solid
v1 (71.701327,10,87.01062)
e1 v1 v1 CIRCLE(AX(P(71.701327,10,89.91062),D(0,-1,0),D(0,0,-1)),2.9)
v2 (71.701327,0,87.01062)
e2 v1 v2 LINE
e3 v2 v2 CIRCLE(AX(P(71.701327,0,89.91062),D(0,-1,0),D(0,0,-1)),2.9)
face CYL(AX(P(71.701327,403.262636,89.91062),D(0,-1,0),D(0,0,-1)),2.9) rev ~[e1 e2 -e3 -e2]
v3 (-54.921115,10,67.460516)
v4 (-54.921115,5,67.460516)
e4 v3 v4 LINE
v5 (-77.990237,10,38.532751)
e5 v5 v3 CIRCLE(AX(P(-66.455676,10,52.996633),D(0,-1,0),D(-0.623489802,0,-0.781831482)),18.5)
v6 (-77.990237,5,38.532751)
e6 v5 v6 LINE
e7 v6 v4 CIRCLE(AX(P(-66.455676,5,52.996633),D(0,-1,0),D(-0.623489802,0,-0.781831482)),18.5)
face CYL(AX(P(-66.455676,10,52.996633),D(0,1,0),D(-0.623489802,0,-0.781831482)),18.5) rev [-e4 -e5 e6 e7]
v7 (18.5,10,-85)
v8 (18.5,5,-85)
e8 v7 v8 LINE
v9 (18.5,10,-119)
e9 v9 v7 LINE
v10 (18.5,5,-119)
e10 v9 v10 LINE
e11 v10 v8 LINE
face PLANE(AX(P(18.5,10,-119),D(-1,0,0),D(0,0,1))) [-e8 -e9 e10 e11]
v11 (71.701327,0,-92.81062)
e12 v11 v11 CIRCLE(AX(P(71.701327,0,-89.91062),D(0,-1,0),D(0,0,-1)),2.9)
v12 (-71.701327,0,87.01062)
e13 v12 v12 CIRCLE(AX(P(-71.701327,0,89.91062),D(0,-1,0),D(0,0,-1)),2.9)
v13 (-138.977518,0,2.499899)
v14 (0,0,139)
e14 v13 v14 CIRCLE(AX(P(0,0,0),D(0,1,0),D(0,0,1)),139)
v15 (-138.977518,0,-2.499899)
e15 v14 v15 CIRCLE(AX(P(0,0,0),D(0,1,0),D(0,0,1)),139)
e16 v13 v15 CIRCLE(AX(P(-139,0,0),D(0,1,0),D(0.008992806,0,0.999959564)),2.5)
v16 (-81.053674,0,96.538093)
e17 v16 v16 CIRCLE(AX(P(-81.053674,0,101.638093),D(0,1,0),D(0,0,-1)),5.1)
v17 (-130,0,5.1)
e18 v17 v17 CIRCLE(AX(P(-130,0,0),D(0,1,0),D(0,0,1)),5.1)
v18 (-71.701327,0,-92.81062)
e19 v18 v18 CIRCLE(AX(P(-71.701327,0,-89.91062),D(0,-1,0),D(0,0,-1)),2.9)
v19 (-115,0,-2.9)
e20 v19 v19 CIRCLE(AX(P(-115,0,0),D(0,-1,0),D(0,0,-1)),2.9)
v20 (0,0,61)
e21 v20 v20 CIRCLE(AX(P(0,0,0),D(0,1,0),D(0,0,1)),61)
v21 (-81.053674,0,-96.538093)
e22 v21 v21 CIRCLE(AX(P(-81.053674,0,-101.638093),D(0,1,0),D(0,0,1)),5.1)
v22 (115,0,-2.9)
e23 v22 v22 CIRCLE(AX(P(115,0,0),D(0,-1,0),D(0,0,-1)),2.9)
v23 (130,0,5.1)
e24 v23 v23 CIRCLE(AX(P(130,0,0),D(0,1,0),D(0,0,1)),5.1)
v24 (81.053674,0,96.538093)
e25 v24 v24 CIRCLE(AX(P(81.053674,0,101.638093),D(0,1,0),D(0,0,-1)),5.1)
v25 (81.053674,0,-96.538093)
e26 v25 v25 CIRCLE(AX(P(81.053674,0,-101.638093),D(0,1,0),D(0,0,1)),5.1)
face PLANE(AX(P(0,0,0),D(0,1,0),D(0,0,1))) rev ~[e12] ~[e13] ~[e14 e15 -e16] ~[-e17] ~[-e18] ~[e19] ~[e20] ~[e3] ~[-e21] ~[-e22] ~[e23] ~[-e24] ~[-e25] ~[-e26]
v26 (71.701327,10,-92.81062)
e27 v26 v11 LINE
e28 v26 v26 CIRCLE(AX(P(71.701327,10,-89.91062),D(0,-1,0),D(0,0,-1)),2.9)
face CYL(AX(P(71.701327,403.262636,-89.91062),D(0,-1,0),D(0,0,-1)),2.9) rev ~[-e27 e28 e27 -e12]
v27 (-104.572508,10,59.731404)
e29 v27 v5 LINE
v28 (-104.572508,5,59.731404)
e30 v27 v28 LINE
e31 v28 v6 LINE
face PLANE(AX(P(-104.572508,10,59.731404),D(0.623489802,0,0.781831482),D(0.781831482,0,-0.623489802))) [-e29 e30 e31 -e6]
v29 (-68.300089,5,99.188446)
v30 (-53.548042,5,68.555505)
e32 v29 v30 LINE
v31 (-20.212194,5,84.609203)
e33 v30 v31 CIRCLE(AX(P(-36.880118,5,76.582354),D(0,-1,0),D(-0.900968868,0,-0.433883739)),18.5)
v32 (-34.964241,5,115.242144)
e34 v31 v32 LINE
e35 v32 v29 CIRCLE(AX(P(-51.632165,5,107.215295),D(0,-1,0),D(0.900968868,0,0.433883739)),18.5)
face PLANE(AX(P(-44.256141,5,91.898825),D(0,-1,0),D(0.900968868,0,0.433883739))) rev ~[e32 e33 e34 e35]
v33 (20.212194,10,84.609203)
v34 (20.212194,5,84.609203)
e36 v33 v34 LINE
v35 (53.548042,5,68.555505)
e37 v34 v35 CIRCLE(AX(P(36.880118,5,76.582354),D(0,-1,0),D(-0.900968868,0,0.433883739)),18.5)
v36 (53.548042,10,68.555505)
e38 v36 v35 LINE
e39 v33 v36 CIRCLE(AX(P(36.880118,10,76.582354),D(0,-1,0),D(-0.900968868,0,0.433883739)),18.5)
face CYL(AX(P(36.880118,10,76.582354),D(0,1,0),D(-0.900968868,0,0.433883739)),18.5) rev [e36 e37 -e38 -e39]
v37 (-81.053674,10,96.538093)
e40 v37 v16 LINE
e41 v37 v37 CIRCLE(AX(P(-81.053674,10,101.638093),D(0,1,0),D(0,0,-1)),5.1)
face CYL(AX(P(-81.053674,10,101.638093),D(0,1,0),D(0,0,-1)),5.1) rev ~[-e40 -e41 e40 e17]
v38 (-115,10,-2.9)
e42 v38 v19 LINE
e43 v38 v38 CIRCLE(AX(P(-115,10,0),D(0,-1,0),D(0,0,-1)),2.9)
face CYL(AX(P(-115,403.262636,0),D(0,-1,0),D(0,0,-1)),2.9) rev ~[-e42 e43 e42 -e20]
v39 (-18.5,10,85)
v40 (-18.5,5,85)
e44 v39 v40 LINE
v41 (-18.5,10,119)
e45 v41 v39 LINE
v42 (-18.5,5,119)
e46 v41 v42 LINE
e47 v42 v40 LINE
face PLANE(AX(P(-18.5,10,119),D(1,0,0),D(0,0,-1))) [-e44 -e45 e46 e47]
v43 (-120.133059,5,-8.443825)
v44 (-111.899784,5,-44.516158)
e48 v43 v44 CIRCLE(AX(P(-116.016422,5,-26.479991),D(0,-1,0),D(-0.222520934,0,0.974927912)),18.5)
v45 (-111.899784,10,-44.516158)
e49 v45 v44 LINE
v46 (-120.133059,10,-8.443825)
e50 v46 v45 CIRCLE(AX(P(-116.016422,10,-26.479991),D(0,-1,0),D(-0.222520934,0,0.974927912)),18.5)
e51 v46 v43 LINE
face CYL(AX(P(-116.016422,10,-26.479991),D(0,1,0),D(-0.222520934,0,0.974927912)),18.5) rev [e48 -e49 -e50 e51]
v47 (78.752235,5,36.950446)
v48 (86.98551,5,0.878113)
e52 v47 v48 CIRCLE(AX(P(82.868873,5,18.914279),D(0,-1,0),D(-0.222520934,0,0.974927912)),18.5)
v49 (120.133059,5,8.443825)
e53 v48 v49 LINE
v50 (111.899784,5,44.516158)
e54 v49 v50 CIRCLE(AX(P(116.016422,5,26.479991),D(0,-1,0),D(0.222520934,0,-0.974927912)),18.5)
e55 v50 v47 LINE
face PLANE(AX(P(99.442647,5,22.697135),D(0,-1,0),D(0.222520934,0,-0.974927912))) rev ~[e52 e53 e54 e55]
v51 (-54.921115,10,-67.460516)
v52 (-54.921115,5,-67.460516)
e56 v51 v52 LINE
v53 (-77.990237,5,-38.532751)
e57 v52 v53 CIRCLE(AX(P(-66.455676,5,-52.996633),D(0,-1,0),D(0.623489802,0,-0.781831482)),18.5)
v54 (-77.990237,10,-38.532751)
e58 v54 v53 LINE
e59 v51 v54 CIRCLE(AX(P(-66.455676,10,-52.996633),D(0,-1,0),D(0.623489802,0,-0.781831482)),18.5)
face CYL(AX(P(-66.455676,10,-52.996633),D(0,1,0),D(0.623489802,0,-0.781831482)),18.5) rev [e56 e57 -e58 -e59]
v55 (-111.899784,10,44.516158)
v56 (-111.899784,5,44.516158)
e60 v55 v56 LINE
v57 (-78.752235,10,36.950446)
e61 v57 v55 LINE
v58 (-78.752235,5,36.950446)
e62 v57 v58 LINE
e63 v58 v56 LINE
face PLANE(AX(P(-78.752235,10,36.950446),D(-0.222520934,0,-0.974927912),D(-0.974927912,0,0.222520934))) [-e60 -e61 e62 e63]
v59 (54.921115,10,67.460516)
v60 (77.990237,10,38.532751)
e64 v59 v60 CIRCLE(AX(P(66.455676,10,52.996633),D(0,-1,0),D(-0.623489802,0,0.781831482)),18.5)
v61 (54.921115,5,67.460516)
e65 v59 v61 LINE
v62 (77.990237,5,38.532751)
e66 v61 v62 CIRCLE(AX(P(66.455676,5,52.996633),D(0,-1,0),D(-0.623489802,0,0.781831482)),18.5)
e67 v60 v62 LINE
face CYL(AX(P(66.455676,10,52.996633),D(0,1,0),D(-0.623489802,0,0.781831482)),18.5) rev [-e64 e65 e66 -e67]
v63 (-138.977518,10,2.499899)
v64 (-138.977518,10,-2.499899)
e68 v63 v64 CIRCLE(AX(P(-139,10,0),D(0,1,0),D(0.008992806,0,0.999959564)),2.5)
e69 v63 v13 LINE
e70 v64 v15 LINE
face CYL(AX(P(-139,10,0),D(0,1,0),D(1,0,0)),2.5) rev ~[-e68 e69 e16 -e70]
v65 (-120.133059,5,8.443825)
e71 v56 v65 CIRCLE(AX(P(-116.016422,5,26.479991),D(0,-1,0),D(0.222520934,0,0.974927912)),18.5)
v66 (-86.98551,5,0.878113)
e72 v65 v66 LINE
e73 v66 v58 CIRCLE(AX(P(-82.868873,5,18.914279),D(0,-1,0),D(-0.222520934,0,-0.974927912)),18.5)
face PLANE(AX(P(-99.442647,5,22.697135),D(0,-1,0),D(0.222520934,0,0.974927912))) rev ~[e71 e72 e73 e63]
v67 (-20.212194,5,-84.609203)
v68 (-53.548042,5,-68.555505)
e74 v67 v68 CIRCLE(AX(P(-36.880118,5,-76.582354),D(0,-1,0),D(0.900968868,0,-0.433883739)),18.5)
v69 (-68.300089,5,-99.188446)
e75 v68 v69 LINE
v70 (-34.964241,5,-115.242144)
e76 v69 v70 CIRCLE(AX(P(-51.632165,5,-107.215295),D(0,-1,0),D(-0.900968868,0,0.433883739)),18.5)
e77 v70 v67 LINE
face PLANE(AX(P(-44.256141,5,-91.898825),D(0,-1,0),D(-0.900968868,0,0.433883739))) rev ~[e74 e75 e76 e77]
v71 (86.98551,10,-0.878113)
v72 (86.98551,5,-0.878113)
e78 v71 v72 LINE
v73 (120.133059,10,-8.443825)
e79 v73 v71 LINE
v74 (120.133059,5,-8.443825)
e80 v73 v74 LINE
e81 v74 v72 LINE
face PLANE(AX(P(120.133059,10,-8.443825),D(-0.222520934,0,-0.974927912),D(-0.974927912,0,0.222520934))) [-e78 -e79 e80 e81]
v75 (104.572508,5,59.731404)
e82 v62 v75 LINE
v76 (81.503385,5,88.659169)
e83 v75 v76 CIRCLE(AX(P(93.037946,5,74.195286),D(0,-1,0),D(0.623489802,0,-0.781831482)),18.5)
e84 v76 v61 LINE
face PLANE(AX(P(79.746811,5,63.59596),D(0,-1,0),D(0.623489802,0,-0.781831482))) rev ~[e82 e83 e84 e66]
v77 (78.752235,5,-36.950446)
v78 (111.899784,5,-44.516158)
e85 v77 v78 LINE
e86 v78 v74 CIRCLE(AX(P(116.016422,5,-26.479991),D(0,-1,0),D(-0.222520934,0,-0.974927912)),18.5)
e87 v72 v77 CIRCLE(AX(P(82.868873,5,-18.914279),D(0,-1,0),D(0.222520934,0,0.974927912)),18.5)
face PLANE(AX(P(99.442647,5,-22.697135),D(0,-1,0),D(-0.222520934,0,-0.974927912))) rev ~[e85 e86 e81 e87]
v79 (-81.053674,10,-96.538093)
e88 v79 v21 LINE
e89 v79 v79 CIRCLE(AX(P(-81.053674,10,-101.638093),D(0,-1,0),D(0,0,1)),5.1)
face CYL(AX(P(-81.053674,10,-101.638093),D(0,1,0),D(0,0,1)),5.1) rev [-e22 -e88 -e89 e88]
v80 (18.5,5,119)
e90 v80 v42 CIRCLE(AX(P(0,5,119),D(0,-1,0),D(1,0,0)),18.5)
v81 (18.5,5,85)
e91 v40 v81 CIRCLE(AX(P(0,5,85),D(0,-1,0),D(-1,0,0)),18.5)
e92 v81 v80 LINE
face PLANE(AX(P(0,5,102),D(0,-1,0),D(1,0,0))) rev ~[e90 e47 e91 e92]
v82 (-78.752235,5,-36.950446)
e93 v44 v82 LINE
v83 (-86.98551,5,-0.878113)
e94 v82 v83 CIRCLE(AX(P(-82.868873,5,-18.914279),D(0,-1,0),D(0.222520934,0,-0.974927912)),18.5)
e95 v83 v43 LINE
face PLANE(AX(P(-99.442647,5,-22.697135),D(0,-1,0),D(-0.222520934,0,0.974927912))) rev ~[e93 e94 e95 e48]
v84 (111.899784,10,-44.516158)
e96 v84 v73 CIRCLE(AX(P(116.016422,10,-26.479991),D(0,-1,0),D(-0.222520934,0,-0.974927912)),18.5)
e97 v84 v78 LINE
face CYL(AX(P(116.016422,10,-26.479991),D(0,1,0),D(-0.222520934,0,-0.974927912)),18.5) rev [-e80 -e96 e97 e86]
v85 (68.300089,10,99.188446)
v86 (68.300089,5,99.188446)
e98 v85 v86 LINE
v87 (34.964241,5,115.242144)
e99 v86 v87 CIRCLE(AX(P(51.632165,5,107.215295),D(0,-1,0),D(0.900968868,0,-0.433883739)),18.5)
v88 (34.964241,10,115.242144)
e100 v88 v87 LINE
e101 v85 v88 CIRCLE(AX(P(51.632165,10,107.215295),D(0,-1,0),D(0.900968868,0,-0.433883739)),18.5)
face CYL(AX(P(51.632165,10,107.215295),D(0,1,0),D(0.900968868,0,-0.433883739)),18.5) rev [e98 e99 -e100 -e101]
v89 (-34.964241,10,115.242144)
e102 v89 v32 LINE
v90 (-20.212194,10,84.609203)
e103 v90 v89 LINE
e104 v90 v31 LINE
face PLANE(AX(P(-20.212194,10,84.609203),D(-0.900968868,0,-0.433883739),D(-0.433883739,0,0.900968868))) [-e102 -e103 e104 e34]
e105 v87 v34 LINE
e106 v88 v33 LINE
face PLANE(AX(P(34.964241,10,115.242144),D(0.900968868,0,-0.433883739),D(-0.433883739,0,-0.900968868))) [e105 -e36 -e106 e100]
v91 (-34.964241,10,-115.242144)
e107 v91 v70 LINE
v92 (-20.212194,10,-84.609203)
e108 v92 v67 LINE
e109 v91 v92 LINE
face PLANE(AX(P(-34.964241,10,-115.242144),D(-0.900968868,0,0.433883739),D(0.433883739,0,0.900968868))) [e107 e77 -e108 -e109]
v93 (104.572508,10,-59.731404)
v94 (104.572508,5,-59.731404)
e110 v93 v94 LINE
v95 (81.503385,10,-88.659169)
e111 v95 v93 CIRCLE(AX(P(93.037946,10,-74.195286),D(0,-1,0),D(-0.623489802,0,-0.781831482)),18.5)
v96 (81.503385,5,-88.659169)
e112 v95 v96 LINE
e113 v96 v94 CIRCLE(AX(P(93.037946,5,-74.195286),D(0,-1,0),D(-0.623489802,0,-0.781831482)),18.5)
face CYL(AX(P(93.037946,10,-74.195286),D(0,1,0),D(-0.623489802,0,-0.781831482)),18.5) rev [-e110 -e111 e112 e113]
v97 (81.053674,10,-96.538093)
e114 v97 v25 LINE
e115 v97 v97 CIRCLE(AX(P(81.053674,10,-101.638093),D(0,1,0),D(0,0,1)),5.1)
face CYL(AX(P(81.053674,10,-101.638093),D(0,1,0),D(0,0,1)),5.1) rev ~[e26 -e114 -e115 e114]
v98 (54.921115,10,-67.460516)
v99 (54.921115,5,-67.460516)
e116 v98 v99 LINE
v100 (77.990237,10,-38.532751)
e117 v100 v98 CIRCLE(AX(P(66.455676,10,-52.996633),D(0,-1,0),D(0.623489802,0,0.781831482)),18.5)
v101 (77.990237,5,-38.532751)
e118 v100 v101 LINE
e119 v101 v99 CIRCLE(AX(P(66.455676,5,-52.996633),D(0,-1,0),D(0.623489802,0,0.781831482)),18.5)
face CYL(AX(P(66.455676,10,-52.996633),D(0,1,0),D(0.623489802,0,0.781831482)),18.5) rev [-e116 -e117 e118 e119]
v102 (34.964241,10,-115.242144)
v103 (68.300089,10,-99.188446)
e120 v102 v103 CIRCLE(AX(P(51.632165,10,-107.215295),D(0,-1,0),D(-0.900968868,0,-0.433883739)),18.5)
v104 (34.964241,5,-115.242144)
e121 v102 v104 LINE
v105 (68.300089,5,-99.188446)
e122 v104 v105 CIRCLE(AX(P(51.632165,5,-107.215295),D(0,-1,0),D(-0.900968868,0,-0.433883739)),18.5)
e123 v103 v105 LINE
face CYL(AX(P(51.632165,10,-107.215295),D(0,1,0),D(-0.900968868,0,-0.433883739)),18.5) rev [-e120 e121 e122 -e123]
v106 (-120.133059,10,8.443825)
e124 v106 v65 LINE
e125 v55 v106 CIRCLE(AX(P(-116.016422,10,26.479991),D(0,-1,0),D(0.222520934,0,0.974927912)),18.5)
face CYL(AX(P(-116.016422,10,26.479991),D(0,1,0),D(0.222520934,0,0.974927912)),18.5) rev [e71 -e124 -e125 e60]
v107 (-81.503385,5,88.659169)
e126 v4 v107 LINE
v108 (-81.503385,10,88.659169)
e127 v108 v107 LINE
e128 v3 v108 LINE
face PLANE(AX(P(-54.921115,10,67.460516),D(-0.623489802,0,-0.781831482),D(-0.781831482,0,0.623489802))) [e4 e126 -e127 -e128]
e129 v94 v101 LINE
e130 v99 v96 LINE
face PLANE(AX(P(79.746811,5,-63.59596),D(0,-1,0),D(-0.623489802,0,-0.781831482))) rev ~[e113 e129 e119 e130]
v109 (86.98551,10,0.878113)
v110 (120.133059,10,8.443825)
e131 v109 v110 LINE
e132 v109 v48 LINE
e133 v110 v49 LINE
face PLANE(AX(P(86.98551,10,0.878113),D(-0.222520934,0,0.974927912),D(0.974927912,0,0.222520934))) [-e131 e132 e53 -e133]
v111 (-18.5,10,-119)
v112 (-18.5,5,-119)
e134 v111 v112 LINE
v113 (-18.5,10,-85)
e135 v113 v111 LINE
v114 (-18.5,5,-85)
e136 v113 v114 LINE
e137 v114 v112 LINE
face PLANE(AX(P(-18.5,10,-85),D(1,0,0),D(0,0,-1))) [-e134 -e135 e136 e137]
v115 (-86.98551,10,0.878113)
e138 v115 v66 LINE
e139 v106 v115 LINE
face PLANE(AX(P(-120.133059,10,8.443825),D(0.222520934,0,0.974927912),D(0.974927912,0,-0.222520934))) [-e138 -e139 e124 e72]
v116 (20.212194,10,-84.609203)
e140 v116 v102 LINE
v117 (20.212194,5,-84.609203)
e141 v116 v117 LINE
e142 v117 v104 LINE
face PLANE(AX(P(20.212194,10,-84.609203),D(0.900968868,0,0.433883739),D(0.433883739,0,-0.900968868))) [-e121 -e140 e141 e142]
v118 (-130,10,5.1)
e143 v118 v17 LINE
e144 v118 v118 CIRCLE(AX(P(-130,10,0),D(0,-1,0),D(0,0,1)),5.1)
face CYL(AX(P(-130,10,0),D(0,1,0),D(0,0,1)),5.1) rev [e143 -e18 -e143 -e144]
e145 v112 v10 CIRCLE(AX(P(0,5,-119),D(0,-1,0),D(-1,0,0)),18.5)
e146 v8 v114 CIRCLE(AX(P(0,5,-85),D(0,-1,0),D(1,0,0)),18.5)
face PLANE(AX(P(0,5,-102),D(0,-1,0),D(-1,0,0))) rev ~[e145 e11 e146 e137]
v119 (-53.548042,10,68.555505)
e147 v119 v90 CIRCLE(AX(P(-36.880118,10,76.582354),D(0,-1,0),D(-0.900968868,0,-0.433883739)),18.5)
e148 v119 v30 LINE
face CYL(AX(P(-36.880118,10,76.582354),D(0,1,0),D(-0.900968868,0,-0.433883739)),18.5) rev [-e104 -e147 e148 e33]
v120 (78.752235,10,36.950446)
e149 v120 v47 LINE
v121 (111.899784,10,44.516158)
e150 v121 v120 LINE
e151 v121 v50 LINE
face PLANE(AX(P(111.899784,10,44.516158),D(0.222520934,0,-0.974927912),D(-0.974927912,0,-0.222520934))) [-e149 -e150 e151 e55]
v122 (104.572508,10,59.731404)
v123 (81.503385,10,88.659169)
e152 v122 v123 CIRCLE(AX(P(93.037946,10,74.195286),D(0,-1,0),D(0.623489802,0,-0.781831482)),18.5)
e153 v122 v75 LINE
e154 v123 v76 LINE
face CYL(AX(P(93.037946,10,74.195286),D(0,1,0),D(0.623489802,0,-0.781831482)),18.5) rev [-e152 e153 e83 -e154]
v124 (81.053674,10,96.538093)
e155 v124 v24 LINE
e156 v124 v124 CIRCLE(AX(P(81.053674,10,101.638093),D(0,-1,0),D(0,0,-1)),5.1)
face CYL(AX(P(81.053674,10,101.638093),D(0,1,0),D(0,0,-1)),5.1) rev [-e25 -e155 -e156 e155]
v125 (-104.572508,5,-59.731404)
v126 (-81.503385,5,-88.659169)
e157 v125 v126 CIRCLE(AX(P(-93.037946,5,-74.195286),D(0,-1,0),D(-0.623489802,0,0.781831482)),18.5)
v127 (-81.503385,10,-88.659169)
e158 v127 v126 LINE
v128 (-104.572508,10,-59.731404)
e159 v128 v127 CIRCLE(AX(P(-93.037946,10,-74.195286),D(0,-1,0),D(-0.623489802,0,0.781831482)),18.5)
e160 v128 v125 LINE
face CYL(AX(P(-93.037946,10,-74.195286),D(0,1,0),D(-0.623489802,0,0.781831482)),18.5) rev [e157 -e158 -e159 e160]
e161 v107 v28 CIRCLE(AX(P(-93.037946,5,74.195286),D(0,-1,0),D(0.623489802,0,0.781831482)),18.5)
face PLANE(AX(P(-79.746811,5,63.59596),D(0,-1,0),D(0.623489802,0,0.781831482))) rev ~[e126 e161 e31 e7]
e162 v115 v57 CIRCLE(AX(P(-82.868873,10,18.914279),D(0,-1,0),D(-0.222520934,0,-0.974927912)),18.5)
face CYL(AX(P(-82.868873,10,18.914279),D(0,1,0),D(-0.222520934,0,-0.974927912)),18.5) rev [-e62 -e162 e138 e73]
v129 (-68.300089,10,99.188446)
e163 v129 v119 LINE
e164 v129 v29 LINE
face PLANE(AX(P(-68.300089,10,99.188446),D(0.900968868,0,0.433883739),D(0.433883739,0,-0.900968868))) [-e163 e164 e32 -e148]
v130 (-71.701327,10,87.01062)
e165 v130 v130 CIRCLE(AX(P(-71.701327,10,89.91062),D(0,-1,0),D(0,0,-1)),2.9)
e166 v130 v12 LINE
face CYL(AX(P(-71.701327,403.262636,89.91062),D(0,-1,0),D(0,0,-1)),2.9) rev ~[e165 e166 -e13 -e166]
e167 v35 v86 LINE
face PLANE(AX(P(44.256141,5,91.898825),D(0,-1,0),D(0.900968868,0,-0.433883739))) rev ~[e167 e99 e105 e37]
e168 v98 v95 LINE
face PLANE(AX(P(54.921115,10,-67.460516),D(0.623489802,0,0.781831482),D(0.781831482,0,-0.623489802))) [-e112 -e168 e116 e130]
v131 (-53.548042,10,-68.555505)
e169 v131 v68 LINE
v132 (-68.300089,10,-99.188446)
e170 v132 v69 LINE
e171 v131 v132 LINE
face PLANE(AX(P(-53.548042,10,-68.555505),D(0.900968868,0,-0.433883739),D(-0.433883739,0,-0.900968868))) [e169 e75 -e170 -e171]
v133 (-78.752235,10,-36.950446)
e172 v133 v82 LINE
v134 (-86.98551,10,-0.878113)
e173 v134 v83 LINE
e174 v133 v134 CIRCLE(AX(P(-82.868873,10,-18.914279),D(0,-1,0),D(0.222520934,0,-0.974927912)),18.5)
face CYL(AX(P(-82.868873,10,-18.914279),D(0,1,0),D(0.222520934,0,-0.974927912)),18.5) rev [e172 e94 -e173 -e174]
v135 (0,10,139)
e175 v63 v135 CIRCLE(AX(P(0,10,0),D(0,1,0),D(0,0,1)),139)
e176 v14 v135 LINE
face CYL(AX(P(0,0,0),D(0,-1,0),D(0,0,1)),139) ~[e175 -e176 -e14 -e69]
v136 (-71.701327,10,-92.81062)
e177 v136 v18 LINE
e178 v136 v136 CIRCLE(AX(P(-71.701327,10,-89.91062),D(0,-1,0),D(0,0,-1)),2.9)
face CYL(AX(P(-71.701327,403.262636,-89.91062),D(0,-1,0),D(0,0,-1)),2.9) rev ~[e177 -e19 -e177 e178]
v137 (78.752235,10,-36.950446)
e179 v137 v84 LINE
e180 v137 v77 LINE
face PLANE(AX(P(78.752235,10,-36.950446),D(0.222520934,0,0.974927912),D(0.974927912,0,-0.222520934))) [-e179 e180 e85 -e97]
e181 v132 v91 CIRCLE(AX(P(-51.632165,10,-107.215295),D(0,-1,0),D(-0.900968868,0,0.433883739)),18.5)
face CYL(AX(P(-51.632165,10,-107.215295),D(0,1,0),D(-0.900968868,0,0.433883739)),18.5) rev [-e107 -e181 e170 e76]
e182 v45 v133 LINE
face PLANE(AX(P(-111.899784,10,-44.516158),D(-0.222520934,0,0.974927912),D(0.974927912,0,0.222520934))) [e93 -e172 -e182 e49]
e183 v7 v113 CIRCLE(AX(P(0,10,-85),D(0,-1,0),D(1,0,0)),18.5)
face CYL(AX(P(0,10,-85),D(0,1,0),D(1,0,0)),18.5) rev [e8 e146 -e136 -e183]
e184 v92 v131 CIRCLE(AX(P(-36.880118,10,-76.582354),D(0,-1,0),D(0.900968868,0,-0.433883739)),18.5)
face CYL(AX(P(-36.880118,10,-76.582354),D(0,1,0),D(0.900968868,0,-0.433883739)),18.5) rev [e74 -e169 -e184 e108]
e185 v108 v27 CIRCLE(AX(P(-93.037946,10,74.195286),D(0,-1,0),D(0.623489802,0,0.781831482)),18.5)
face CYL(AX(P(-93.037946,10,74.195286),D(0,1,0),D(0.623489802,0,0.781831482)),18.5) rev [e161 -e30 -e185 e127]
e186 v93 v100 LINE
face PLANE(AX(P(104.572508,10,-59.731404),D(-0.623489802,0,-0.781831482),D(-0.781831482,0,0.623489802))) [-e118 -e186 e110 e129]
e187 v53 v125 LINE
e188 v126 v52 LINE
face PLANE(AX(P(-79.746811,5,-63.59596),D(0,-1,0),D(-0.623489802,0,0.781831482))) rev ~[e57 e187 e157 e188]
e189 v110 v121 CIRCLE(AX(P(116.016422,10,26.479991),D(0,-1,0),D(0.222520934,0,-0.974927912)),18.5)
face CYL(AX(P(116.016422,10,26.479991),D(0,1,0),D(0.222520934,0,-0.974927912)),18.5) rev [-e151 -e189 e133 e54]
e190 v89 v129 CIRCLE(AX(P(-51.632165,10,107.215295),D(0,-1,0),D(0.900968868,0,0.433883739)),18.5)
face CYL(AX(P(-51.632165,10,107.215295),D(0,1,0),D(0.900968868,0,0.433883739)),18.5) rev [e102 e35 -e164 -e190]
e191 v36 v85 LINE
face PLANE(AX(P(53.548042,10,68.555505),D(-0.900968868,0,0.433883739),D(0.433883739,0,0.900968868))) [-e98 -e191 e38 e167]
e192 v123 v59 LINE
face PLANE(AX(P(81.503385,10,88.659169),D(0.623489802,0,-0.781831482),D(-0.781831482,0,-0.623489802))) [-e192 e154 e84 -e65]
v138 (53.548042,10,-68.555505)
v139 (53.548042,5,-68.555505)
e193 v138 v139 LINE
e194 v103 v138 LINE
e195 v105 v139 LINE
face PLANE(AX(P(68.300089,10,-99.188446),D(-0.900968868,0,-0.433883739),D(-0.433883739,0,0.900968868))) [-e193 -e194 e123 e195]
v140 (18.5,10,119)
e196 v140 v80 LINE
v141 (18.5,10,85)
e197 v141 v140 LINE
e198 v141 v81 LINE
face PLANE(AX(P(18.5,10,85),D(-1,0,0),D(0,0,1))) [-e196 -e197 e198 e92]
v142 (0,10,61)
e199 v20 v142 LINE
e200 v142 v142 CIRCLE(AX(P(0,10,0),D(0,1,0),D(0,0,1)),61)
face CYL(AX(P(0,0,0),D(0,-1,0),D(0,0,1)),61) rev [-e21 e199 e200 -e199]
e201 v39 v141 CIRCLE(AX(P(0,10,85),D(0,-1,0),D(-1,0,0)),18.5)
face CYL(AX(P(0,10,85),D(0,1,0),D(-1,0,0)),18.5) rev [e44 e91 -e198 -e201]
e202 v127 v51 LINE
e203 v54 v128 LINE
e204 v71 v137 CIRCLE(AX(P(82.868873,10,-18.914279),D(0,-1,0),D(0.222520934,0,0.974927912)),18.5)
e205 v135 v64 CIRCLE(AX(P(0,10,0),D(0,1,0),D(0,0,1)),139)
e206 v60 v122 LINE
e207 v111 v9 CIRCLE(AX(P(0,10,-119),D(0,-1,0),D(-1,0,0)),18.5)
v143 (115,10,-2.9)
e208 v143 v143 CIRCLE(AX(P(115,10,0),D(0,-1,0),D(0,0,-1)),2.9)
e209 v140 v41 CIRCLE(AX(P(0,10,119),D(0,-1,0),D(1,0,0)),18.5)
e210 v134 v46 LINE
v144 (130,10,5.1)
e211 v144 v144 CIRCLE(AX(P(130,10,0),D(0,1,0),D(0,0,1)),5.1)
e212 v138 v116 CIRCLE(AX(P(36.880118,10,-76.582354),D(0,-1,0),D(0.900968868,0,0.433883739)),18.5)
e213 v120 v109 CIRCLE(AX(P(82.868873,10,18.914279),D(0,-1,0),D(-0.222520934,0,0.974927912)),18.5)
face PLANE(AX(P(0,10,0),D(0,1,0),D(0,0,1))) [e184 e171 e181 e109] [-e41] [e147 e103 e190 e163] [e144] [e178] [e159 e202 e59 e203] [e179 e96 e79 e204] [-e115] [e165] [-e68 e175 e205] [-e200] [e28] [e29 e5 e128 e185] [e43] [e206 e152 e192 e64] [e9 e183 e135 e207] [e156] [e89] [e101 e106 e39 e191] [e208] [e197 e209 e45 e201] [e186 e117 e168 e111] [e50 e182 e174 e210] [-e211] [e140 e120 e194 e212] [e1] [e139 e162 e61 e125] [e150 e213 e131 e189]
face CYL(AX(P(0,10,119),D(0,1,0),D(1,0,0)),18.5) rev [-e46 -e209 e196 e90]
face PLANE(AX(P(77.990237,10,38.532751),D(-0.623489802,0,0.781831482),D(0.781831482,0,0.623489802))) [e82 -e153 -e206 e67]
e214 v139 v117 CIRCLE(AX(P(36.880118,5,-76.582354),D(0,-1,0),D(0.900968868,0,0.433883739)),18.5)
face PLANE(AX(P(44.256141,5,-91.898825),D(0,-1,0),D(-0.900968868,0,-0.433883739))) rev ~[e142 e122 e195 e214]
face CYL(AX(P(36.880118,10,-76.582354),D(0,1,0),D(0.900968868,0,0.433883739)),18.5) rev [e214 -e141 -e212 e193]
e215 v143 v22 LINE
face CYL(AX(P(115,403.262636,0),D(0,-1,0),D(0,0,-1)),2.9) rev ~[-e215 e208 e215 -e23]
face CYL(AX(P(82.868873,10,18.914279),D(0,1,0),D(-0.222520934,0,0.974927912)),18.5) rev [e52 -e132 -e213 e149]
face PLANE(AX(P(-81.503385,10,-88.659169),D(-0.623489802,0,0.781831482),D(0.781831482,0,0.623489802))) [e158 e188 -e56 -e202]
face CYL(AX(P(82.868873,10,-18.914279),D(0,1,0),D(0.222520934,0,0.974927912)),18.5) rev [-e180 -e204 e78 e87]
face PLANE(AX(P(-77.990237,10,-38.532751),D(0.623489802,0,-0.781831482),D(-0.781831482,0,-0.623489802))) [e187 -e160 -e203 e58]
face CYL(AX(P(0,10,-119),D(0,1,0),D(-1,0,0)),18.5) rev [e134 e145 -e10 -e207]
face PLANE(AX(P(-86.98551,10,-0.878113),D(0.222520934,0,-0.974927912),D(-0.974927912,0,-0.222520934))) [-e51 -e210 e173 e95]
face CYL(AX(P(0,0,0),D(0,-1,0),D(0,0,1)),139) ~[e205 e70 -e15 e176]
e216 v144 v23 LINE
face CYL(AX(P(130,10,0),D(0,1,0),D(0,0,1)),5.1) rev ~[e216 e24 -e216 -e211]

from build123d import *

# Parameters (mm, degrees)
SKETCH_1_R               = 139
SKETCH_1_R_2             = 61
EXTRUDE_1_DEPTH          = 10
CUT_EXTRUDE_1_DEPTH      = 5
PATTERN_CIRCULAR_2_COUNT = 14
SKETCH_3_R               = 5.1
CUT_EXTRUDE_2_DEPTH      = 197.829875781
SKETCH_8_R               = 5.1
CUT_EXTRUDE_3_DEPTH      = 197.829875781
SKETCH_10_R              = 2.5
CUT_EXTRUDE_4_DEPTH      = 197.829875781
MIRROR_2_COPY_1_SKETCH_R = 5.1
MIRROR_2_COPY_1_DEPTH    = 197.829875781
M5_BASE_PLATE_D          = 5.8


with BuildPart() as part:
    # ｽｹｯﾁ1 → ﾎﾞｽ - 押し出し1 (new body)
    with BuildSketch(Plane(origin=(0, 0, 0), x_dir=(1, 0, 0), z_dir=(0, 1, 0))):
        with Locations(Location((0, 0, 0), (0, 0, 270))):
            Circle(SKETCH_1_R)
        with Locations(Location((0, 0, 0), (0, 0, 270))):
            Circle(SKETCH_1_R_2, mode=Mode.SUBTRACT)
    extrude(amount=EXTRUDE_1_DEPTH)

    # ｽｹｯﾁ2 → ｶｯﾄ - 押し出し1 (cut)
    with BuildSketch(Plane(origin=(0, 10, 0), x_dir=(1, 0, 0), z_dir=(0, 1, 0))):
        with BuildLine():
            Line((18.5, 119), (18.5, 85))
            ThreePointArc((18.5, 85), (0, 66.5), (-18.5, 85))
            Line((-18.5, 85), (-18.5, 119))
            ThreePointArc((-18.5, 119), (0, 137.5), (18.5, 119))
        make_face()
    cut_extrude_1 = extrude(amount=-CUT_EXTRUDE_1_DEPTH, mode=Mode.SUBTRACT)

    # 円形ﾊﾟﾀｰﾝ2: ｶｯﾄ - 押し出し1 ×14 about axis
    pattern_circular_2_axis = Axis((0, 0, 0), (0, 1, 0))
    for i in range(1, PATTERN_CIRCULAR_2_COUNT):
        add(cut_extrude_1.rotate(pattern_circular_2_axis, i * 360 / PATTERN_CIRCULAR_2_COUNT), mode=Mode.SUBTRACT)

    # ｽｹｯﾁ3 → ｶｯﾄ - 押し出し2 (cut, through all)
    with BuildSketch(Plane(origin=(0, 10, 0), x_dir=(1, 0, 0), z_dir=(0, 1, 0))):
        with Locations(Location((130, 0, 0), (0, 0, 270))):
            Circle(SKETCH_3_R)
    cut_extrude_2 = extrude(amount=-CUT_EXTRUDE_2_DEPTH, mode=Mode.SUBTRACT)

    # ｽｹｯﾁ8 → ｶｯﾄ - 押し出し3 (cut, through all)
    with BuildSketch(Plane(origin=(0, 10, 0), x_dir=(1, 0, 0), z_dir=(0, 1, 0))):
        with Locations(Location((81.053674242, 101.638092721, 0), (0, 0, 270))):
            Circle(SKETCH_8_R)
    cut_extrude_3 = extrude(amount=-CUT_EXTRUDE_3_DEPTH, mode=Mode.SUBTRACT)

    # ｽｹｯﾁ10 → ｶｯﾄ - 押し出し4 (cut, through all)
    with BuildSketch(Plane(origin=(0, 10, 0), x_dir=(1, 0, 0), z_dir=(0, 1, 0))):
        with Locations((-139, 0)):
            Circle(SKETCH_10_R)
    extrude(amount=-CUT_EXTRUDE_4_DEPTH, mode=Mode.SUBTRACT)

    # ﾐﾗｰ1: ｶｯﾄ - 押し出し3 across plane
    add(cut_extrude_3.mirror(Plane.XY), mode=Mode.SUBTRACT)

    # ﾐﾗｰ2: ｶｯﾄ - 押し出し2, ｶｯﾄ - 押し出し3 across plane
    add(cut_extrude_2.mirror(Plane(origin=(0, 0, 0), x_dir=(0, 0, 1), z_dir=(1, 0, 0))), mode=Mode.SUBTRACT)
    add(cut_extrude_3.mirror(Plane(origin=(0, 0, 0), x_dir=(0, 0, 1), z_dir=(1, 0, 0))), mode=Mode.SUBTRACT)

    # ﾐﾗｰ2 copy 1 sketch → ﾐﾗｰ2 copy 1 (cut, through all)
    with BuildSketch(Plane(origin=(0, 10, 0), x_dir=(-1, 0, 0), z_dir=(0, 1, 0))):
        with Locations(Location((81.053674242, 101.638092721, 0), (0, 0, 270))):
            Circle(MIRROR_2_COPY_1_SKETCH_R)
    extrude(amount=-MIRROR_2_COPY_1_DEPTH, mode=Mode.SUBTRACT)

    # M5 Base_Plateへの固定用穴 (through all)
    with Locations(Plane(origin=(71.701327214, 10, -89.910620484), x_dir=(0, 0, 1), z_dir=(0, 1, 0))):
        with Locations((0, 0), (89.910620484, 43.298672786), (179.821240968, 0), (179.821240968, -143.402654428), (89.910620484, -186.701327214), (0, -143.402654428)):
            Hole(M5_BASE_PLATE_D / 2)


solid = part.part
